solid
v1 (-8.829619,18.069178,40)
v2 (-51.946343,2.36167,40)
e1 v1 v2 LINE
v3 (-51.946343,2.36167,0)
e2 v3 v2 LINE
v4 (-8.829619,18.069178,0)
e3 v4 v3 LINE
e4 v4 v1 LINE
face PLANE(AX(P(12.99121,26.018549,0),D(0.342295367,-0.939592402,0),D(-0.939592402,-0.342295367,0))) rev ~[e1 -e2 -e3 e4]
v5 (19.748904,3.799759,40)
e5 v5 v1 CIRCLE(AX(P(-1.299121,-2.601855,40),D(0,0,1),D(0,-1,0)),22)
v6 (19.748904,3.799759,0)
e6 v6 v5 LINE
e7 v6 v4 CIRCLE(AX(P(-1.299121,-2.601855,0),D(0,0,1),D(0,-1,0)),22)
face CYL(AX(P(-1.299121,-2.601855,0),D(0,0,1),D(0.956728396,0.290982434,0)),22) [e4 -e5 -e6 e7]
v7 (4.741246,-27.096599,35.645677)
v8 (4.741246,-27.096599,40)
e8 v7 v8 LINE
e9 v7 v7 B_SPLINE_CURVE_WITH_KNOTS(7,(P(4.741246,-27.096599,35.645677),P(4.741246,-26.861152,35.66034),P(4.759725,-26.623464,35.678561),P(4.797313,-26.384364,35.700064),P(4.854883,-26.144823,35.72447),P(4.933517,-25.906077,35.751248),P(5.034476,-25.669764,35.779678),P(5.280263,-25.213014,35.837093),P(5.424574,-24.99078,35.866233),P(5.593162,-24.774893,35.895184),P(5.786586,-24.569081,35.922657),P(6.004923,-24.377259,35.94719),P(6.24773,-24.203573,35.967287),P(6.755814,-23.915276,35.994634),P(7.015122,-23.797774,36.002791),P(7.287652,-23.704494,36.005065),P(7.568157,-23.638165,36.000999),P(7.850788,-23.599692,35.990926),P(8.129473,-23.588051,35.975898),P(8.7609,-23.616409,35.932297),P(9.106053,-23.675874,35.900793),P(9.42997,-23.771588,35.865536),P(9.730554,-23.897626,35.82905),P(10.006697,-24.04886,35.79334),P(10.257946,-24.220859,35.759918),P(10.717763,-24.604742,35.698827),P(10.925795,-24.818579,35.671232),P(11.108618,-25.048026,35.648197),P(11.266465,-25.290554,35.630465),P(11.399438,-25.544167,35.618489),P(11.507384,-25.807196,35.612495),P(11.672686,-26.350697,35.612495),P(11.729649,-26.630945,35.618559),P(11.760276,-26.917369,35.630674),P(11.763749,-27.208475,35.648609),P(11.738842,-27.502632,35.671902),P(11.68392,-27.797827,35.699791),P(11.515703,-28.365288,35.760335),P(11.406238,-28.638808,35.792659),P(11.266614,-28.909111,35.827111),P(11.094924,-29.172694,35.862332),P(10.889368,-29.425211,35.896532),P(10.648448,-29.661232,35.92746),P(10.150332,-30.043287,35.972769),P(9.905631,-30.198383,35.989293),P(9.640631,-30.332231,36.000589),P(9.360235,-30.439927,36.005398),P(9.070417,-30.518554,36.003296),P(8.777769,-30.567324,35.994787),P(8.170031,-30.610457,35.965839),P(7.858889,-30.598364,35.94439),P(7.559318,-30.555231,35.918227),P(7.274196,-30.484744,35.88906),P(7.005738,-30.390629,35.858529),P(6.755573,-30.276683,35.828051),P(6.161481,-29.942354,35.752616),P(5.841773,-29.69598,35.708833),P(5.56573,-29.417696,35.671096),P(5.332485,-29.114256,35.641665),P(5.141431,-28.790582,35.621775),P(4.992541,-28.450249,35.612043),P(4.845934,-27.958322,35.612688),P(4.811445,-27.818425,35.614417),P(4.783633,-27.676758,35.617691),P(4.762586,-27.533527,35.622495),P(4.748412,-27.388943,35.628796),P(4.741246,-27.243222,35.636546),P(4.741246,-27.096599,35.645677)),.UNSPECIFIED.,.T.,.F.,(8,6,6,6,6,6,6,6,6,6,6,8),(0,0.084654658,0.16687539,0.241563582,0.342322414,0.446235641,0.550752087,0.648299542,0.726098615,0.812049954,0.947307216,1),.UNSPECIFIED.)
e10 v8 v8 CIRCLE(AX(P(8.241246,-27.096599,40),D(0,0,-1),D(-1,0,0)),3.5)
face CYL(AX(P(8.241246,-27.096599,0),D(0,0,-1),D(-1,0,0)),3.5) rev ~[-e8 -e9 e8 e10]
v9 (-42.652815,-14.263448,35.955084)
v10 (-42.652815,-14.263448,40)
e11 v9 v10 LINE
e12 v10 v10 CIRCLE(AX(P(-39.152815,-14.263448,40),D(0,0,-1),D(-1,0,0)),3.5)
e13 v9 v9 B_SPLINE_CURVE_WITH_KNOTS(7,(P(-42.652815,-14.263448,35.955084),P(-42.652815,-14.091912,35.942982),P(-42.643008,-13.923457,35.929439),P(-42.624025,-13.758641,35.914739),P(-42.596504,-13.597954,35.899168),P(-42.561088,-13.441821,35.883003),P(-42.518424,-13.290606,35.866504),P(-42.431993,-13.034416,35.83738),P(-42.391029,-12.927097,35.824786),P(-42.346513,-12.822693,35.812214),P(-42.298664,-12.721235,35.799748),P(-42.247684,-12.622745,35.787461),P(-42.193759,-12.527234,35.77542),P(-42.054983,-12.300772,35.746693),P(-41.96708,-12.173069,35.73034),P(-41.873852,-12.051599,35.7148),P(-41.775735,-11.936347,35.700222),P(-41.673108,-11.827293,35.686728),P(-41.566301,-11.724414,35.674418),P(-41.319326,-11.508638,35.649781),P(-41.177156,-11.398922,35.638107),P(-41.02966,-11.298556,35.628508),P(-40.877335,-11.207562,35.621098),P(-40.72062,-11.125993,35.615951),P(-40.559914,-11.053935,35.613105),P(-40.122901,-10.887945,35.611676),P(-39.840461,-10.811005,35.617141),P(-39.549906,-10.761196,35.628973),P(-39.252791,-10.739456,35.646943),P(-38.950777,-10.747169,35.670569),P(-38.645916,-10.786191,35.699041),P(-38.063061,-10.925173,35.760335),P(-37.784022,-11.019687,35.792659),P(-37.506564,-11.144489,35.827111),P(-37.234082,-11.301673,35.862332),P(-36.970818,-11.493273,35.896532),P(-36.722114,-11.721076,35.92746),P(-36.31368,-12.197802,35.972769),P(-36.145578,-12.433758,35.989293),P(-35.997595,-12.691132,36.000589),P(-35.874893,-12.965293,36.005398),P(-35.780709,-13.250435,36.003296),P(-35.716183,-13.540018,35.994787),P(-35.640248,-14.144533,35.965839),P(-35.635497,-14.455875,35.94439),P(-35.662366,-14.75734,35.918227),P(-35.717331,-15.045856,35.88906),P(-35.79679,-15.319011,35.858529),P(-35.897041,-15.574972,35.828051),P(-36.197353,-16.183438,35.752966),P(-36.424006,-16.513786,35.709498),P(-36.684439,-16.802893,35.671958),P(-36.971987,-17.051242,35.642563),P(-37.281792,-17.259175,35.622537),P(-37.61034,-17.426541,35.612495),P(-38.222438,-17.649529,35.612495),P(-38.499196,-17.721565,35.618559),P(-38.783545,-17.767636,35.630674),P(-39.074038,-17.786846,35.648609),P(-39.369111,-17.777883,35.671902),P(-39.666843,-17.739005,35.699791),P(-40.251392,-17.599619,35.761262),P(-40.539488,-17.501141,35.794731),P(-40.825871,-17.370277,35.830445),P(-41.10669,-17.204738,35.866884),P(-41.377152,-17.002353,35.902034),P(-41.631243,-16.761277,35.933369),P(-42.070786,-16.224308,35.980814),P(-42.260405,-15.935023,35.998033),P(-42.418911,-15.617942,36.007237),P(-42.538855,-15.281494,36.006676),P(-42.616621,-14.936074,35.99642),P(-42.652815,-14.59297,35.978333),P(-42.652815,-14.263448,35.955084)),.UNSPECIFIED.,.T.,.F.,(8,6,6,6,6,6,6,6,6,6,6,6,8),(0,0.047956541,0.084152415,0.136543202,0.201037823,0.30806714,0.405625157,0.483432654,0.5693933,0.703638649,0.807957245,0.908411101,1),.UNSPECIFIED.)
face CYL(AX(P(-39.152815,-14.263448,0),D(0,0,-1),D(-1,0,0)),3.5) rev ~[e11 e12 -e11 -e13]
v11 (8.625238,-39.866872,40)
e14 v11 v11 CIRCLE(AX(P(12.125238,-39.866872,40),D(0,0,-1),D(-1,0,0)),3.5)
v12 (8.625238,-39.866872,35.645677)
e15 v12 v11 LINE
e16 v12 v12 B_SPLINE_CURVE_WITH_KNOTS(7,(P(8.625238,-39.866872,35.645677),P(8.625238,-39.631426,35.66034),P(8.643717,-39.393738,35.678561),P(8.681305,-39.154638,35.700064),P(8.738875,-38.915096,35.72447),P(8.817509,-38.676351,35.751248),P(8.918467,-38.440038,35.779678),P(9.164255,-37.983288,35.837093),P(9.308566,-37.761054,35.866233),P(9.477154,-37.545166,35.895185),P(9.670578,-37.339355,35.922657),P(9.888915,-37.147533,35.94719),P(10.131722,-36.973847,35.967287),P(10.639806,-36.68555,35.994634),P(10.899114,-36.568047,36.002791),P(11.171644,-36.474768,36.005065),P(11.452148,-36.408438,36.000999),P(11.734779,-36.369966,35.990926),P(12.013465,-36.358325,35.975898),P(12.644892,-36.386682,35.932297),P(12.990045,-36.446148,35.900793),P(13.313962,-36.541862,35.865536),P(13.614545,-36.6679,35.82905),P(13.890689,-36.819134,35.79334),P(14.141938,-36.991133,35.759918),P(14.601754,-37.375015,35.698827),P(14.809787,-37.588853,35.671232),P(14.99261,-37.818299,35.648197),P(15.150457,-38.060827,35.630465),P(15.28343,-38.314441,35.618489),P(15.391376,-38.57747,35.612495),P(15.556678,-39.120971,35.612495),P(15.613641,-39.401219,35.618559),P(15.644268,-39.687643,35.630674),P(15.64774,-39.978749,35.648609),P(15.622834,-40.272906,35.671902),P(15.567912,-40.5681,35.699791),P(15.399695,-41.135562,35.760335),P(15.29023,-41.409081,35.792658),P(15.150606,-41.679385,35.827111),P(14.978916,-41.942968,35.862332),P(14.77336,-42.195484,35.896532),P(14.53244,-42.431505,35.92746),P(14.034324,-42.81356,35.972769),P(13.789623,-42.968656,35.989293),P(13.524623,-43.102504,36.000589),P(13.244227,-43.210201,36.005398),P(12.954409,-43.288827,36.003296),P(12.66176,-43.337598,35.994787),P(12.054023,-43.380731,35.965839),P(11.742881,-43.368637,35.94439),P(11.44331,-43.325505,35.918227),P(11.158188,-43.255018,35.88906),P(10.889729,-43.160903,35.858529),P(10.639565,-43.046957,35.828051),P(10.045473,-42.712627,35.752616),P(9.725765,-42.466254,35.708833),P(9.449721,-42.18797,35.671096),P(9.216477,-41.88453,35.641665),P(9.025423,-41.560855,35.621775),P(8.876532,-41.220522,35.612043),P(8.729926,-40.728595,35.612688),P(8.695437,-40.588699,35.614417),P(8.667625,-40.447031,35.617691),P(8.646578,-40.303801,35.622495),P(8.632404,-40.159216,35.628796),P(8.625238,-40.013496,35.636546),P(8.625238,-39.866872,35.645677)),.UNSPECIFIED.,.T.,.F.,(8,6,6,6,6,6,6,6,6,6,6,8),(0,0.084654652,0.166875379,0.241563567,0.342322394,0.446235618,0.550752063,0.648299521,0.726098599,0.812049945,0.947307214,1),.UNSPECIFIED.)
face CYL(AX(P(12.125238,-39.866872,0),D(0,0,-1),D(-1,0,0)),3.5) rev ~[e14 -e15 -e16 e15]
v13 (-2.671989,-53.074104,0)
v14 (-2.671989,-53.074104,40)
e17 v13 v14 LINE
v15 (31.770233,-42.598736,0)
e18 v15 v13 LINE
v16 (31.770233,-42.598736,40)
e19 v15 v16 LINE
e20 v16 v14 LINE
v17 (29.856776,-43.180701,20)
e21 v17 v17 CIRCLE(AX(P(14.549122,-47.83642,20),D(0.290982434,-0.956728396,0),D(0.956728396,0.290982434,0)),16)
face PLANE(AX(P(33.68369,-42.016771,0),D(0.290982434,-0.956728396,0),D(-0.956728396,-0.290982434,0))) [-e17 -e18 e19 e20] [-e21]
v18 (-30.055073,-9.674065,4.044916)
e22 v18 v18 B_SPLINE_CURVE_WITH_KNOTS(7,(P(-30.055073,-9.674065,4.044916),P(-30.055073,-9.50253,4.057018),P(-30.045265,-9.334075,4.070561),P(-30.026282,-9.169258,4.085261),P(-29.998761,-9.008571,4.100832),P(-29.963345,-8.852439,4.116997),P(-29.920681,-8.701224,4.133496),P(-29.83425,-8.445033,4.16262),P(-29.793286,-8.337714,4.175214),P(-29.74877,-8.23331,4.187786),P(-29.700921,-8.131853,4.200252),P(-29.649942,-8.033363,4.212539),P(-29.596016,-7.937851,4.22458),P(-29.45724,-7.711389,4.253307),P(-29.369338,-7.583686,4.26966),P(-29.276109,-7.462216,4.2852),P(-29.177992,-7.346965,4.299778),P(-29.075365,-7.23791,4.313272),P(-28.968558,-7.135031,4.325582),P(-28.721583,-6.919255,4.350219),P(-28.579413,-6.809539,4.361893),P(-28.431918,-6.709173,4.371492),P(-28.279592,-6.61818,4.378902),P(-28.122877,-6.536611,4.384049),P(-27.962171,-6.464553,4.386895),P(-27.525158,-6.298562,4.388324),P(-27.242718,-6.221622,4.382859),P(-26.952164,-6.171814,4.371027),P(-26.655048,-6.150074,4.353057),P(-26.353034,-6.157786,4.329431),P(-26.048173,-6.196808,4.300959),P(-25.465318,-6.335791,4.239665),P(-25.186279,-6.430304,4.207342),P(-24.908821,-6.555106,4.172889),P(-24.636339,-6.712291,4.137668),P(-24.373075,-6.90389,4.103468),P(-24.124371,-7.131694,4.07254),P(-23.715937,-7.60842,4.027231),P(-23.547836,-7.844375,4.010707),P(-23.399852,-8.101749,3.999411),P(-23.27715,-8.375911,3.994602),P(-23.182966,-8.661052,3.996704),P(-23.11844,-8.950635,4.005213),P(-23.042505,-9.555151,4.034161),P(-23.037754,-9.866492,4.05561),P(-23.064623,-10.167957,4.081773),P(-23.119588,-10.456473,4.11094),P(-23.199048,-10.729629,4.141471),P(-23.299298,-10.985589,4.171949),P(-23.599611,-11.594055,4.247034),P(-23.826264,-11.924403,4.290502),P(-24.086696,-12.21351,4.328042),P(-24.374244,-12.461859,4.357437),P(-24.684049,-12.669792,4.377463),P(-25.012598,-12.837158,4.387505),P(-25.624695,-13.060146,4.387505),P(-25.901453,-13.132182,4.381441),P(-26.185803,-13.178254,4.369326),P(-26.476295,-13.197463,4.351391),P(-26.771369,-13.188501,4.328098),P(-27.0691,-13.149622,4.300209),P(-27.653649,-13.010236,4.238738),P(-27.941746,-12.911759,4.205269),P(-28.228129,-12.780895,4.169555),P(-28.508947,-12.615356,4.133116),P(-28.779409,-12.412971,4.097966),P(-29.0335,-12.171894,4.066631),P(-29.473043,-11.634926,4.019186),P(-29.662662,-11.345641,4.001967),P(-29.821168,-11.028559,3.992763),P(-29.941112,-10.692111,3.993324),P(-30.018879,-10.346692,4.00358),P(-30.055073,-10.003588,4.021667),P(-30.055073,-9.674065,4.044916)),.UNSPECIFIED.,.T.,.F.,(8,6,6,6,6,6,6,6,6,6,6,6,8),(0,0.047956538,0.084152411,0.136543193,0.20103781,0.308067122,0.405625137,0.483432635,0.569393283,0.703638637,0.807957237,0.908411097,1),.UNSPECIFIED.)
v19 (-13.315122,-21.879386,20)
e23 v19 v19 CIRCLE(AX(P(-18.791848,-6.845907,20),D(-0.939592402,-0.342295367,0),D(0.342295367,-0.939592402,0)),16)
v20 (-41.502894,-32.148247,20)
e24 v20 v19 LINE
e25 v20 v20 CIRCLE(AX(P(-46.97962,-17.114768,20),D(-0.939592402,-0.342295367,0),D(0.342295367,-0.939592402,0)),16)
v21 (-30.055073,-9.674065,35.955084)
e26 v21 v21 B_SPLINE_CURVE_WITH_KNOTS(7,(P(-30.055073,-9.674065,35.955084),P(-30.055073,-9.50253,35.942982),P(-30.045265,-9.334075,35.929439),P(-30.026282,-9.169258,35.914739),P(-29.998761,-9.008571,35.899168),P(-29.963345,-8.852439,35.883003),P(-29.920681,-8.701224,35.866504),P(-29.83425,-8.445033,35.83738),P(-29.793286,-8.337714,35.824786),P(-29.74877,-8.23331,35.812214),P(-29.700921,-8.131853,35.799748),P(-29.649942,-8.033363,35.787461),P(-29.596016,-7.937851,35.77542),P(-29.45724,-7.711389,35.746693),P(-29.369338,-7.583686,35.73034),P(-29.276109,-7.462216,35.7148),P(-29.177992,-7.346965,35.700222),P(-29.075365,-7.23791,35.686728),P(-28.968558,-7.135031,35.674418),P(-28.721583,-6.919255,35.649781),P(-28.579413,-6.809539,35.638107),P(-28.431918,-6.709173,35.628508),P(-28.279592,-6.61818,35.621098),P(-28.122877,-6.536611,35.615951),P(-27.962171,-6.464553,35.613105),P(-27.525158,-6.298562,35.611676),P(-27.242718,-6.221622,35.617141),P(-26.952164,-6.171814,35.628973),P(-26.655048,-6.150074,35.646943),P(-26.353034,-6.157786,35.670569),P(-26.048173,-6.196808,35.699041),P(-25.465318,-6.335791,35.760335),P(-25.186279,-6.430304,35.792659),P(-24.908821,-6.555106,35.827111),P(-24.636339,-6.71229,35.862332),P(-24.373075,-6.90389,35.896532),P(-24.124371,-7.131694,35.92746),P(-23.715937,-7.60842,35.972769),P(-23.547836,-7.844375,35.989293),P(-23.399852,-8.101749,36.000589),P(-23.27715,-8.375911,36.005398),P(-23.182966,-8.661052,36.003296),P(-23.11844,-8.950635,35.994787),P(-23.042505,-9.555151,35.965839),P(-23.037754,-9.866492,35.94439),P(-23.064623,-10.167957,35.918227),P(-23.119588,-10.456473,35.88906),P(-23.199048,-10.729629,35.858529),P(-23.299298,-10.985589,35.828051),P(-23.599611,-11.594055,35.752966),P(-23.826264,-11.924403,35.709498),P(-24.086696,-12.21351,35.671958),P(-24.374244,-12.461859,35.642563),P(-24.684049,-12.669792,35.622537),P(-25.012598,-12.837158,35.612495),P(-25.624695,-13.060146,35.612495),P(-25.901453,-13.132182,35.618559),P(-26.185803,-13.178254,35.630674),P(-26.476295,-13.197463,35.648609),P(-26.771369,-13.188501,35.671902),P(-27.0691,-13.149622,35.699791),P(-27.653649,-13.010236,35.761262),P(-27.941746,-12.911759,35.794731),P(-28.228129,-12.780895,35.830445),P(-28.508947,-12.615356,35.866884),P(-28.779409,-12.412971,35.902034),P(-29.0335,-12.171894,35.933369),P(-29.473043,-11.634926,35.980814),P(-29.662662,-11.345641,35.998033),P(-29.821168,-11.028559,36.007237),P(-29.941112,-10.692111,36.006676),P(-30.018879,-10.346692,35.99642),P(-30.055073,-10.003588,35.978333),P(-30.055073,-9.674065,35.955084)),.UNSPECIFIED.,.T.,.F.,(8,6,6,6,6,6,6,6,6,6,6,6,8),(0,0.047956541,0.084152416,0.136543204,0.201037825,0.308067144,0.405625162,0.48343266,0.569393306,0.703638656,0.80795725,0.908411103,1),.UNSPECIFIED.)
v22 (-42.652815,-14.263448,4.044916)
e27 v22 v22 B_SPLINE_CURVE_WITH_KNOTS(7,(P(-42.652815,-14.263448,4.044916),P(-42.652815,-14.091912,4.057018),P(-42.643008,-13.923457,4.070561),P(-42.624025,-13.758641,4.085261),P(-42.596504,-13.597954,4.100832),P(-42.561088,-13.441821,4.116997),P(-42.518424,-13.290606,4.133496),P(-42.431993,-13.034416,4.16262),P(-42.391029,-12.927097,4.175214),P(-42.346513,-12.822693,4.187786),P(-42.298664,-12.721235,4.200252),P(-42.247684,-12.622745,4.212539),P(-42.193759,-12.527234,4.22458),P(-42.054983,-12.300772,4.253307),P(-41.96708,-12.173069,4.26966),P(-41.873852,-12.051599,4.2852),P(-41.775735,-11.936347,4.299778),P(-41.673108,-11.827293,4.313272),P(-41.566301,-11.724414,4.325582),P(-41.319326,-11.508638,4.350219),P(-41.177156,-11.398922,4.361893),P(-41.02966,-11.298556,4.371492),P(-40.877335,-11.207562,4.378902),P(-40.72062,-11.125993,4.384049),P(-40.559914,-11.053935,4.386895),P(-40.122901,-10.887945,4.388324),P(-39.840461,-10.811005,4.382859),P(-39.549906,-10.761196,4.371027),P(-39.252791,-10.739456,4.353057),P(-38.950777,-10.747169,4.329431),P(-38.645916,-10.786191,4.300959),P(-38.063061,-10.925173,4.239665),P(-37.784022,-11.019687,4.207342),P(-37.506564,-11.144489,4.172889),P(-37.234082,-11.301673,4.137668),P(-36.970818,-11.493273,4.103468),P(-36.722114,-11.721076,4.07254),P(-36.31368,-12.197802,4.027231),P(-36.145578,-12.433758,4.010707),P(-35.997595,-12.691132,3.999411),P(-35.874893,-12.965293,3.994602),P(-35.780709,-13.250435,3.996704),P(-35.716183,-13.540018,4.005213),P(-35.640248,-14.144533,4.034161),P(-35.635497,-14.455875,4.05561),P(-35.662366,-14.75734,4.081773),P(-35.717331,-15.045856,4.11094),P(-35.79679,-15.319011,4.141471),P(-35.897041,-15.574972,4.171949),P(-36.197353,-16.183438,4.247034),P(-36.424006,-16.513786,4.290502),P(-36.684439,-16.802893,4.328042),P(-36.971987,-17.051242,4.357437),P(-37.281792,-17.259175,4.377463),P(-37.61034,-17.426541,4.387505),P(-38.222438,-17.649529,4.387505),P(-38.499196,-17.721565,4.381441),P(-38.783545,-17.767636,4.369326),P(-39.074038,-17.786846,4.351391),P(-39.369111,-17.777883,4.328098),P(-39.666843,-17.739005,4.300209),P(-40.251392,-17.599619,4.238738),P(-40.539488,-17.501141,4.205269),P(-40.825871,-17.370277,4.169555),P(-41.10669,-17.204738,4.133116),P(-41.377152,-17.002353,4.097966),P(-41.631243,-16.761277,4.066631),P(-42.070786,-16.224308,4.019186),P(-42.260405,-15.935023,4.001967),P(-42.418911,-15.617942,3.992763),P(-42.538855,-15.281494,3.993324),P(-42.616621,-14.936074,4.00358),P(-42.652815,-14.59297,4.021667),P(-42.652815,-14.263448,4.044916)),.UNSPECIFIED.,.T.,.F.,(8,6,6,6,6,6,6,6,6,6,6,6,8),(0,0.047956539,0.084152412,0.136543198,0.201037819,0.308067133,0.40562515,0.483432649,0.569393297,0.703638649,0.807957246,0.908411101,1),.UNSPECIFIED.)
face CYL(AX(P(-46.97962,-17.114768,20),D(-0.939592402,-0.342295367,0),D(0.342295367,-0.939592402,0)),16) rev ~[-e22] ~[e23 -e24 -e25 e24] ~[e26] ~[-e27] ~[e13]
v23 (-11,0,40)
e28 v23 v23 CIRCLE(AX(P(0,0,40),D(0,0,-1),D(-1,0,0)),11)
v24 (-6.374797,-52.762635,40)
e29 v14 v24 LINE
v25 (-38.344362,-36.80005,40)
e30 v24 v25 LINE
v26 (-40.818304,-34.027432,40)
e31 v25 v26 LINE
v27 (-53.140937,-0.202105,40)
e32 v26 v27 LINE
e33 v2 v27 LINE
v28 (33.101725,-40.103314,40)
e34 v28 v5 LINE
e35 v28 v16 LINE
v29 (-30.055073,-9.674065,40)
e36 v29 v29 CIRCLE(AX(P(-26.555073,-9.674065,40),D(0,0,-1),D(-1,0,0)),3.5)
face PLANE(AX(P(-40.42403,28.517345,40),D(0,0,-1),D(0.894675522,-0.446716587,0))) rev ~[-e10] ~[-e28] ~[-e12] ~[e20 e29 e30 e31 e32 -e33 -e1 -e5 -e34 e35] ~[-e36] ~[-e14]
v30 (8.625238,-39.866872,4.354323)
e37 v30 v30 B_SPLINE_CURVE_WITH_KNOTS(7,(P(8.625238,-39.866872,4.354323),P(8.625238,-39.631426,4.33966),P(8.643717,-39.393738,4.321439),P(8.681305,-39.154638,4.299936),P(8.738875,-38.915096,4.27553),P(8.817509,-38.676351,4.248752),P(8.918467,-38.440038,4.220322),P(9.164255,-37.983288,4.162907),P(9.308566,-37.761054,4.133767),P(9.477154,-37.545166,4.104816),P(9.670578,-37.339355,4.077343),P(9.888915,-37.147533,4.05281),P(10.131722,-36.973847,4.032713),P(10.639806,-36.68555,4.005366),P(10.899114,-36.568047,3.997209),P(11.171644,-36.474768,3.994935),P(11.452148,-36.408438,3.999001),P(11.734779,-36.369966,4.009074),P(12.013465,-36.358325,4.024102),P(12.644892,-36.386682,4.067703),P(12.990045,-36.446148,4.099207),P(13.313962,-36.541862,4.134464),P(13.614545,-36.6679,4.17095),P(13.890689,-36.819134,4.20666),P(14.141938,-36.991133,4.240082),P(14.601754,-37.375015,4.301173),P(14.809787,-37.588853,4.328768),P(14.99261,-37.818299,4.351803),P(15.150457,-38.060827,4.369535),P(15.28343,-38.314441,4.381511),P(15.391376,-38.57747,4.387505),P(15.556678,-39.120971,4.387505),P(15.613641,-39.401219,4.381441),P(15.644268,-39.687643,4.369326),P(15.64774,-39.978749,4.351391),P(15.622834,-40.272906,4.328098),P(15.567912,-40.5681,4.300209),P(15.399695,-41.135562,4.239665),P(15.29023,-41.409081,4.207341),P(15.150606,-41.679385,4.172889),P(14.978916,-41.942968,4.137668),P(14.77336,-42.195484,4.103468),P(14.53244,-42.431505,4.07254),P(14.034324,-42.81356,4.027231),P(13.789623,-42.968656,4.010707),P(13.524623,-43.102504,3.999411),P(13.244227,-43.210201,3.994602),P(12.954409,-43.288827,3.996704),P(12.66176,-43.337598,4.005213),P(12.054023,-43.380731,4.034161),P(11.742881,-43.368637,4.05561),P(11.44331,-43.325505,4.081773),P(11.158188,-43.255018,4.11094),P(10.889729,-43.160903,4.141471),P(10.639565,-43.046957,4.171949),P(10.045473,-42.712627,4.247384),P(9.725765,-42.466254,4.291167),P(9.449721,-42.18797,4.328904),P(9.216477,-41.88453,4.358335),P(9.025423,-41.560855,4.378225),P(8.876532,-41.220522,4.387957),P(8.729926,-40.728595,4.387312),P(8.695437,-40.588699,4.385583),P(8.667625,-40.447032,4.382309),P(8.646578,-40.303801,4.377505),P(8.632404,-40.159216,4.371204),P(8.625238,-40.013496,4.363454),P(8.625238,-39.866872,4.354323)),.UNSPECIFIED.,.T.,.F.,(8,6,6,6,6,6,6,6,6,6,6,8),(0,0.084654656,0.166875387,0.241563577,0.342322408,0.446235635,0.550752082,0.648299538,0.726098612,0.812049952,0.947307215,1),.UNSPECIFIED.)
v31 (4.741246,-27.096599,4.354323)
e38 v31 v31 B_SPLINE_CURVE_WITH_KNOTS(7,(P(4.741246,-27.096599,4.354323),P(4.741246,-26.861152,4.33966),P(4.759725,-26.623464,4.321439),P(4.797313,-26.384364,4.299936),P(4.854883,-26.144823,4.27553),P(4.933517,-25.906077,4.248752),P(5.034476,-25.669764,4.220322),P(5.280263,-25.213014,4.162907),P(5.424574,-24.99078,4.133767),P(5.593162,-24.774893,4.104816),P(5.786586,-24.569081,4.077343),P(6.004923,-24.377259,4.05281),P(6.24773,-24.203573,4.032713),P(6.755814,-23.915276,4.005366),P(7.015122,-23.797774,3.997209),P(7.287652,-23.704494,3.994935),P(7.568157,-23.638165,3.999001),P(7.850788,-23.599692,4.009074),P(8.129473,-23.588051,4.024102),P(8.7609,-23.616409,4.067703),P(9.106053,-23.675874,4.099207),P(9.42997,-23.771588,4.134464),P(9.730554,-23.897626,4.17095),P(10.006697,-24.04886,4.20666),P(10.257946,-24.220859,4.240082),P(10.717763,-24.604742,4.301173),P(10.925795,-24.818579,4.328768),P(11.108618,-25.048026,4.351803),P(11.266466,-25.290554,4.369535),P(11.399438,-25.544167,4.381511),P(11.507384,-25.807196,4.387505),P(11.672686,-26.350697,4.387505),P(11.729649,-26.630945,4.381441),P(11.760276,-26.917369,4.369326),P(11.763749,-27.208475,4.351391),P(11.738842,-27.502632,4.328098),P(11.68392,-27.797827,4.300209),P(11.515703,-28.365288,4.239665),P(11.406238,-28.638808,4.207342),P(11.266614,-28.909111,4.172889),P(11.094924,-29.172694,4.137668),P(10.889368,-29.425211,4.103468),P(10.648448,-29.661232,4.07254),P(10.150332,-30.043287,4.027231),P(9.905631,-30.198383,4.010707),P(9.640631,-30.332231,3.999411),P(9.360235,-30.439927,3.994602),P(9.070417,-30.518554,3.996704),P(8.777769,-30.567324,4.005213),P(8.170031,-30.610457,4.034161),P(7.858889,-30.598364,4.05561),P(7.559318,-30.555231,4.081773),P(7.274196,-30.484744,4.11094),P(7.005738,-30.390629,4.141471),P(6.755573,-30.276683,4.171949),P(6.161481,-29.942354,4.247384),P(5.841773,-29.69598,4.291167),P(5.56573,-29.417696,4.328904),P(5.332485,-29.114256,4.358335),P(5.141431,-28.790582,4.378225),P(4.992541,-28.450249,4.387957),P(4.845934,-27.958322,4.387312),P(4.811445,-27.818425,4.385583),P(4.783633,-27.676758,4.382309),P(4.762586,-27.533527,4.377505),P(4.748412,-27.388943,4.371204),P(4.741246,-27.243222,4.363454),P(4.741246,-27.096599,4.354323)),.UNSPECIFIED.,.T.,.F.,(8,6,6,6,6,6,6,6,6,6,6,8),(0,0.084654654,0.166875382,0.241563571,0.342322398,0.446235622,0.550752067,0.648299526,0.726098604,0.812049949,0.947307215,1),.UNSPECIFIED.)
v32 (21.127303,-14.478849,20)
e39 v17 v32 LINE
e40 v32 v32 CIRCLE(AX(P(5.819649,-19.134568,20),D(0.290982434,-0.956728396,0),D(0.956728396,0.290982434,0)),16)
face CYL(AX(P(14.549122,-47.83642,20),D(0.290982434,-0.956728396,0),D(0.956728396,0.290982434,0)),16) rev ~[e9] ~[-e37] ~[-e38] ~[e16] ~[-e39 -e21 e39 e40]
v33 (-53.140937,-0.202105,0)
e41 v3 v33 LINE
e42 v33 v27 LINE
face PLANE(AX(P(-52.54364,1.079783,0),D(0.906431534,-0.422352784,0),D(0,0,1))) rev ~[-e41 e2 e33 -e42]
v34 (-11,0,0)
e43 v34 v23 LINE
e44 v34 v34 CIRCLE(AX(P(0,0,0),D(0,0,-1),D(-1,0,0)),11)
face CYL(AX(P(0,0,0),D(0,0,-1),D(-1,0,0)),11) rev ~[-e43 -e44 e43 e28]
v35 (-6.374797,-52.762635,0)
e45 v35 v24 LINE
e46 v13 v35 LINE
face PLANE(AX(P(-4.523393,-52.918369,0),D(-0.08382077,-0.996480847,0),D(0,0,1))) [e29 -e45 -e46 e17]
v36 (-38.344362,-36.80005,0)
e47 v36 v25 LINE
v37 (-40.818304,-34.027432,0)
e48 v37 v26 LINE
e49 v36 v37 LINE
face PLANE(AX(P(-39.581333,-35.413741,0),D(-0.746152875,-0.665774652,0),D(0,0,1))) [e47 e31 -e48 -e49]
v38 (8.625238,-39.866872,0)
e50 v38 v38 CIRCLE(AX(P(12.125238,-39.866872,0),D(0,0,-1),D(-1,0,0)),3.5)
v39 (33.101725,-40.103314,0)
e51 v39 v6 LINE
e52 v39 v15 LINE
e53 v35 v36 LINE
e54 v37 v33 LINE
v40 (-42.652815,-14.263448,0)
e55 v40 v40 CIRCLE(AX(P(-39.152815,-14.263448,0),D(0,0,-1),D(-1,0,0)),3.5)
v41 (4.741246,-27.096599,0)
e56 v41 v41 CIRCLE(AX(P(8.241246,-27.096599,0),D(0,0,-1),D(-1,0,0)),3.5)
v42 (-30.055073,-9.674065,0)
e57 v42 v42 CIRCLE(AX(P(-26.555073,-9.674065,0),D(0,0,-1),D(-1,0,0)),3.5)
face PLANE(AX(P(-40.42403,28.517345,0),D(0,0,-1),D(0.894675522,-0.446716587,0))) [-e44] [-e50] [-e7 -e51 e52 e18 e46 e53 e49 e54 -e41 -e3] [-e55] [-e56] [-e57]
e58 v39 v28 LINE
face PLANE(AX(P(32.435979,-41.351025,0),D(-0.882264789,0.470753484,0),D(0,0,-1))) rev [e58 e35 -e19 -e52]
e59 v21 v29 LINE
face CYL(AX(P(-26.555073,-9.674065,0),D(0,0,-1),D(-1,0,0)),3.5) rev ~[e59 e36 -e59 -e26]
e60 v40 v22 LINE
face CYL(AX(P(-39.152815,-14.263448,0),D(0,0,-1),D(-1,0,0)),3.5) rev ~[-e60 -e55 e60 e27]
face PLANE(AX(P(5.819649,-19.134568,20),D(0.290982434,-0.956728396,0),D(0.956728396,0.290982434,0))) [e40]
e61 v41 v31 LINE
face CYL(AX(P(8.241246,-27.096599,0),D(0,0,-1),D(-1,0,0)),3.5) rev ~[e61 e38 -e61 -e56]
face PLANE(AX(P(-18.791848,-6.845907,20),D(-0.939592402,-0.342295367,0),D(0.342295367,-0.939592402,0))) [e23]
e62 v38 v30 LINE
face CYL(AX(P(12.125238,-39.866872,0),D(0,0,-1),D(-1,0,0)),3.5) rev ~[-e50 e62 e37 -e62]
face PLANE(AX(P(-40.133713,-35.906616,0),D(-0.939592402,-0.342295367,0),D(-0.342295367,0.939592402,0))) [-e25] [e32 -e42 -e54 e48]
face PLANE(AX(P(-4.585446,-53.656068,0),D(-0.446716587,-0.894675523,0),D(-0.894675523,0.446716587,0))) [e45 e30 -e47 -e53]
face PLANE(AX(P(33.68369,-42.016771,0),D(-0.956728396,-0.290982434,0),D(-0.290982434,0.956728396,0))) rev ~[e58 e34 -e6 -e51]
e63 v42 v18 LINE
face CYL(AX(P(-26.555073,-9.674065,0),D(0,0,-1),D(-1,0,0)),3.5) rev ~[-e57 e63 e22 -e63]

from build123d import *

# Parameters (mm, degrees)
BOSS_EXTRUDE1_DEPTH = 40
SKETCH2_R           = 16
CUT_EXTRUDE1_DEPTH  = 30
SKETCH3_R           = 16
CUT_EXTRUDE2_DEPTH  = 30
CUT_EXTRUDE3_REACH  = 87.885
SKETCH4_R           = 3.5
SKETCH6_W           = 97.811122408
SKETCH6_H           = 40
BOSS_EXTRUDE2_DEPTH = 30
SKETCH5_R           = 11
CUT_EXTRUDE4_DEPTH  = 40
CUT_EXTRUDE7_DEPTH  = 40
FILLET1_R           = 22
CHAMFER1_SIZE       = 2
CHAMFER2_SIZE       = 2


with BuildPart() as part:
    # Sketch1 → Boss-Extrude1 (new body)
    with BuildSketch(Plane.XY):
        Polygon((-40.424029814, 28.51734538), (47.085187233, -15.176505431), (33.683689612, -42.016771106), (-53.825527435, 1.677079705), align=None)
        Polygon((-53.825527435, 1.677079705), (33.683689612, -42.016771106), (-4.585446216, -53.656068464), (-40.133712767, -35.906616376), align=None)
    extrude(amount=BOSS_EXTRUDE1_DEPTH)

    # Sketch2 → Cut-Extrude1 (cut)
    with BuildSketch(Plane(origin=(14.549121698, -47.836419785, 0), x_dir=(-0.9567283956954932, -0.29098243395423, 0), z_dir=(0.29098243395423, -0.9567283956954933, 0))):
        with Locations(Location((0, -20, 0), (0, 0, 180))):
            Circle(SKETCH2_R)
    extrude(amount=-CUT_EXTRUDE1_DEPTH, mode=Mode.SUBTRACT)

    # Sketch3 → Cut-Extrude2 (cut)
    with BuildSketch(Plane(origin=(-46.979620101, -17.114768336, 0), x_dir=(0, 0, 1), z_dir=(-0.939592402016652, -0.342295366712111, 0))):
        with Locations(Location((20, 0, 0), (0, 0, 270))):
            Circle(SKETCH3_R)
    extrude(amount=-CUT_EXTRUDE2_DEPTH, mode=Mode.SUBTRACT)

    # Cut-Extrude3: up to this face of the body (flat: up to its plane)
    cut_extrude3_end = Plane(part.part.faces().sort_by_distance((-8.066388037, -16.155209221, 40))[0])
    # Sketch4 → Cut-Extrude3 (cut, up to the picked face)
    with BuildSketch(Plane(origin=(0, 0, 0), x_dir=(-1, 0, 0), z_dir=(0, 0, -1)), mode=Mode.PRIVATE) as cut_extrude3_sk1:
        with Locations((-8.241246184, -27.096598695)):
            Circle(SKETCH4_R)
    cut_extrude3_tool1 = split(extrude(cut_extrude3_sk1.sketch, amount=-CUT_EXTRUDE3_REACH, mode=Mode.PRIVATE), bisect_by=cut_extrude3_end, keep=Keep.BOTH, mode=Mode.PRIVATE)
    # Sketch4 → Cut-Extrude3 (cut, up to the picked face)
    with BuildSketch(Plane(origin=(0, 0, 0), x_dir=(-1, 0, 0), z_dir=(0, 0, -1)), mode=Mode.PRIVATE) as cut_extrude3_sk2:
        with Locations((-12.125238023, -39.866872249)):
            Circle(SKETCH4_R)
    cut_extrude3_tool2 = split(extrude(cut_extrude3_sk2.sketch, amount=-CUT_EXTRUDE3_REACH, mode=Mode.PRIVATE), bisect_by=cut_extrude3_end, keep=Keep.BOTH, mode=Mode.PRIVATE)
    # Sketch4 → Cut-Extrude3 (cut, up to the picked face)
    with BuildSketch(Plane(origin=(0, 0, 0), x_dir=(-1, 0, 0), z_dir=(0, 0, -1)), mode=Mode.PRIVATE) as cut_extrude3_sk3:
        with Locations((26.555072549, -9.674065347)):
            Circle(SKETCH4_R)
    cut_extrude3_tool3 = split(extrude(cut_extrude3_sk3.sketch, amount=-CUT_EXTRUDE3_REACH, mode=Mode.PRIVATE), bisect_by=cut_extrude3_end, keep=Keep.BOTH, mode=Mode.PRIVATE)
    # Sketch4 → Cut-Extrude3 (cut, up to the picked face)
    with BuildSketch(Plane(origin=(0, 0, 0), x_dir=(-1, 0, 0), z_dir=(0, 0, -1)), mode=Mode.PRIVATE) as cut_extrude3_sk4:
        with Locations((39.152815392, -14.263447931)):
            Circle(SKETCH4_R)
    cut_extrude3_tool4 = split(extrude(cut_extrude3_sk4.sketch, amount=-CUT_EXTRUDE3_REACH, mode=Mode.PRIVATE), bisect_by=cut_extrude3_end, keep=Keep.BOTH, mode=Mode.PRIVATE)
    add(cut_extrude3_tool1.solids().sort_by(Axis((8.241246, -27.096599, 0), (0, 0, 1)))[0], mode=Mode.SUBTRACT)
    add(cut_extrude3_tool2.solids().sort_by(Axis((12.125238, -39.866872, 0), (0, 0, 1)))[0], mode=Mode.SUBTRACT)
    add(cut_extrude3_tool3.solids().sort_by(Axis((-26.555073, -9.674065, 0), (0, 0, 1)))[0], mode=Mode.SUBTRACT)
    add(cut_extrude3_tool4.solids().sort_by(Axis((-39.152815, -14.263448, 0), (0, 0, 1)))[0], mode=Mode.SUBTRACT)

    # Sketch6 → Boss-Extrude2 (add)
    with BuildSketch(Plane(origin=(3.33057871, 6.670419974, 0), x_dir=(0.8946755224974542, -0.4467165873838887, 0), z_dir=(0.4467165873838887, 0.8946755224974542, 0))):
        with Locations((0, -20)):
            Rectangle(SKETCH6_W, SKETCH6_H)
    extrude(amount=BOSS_EXTRUDE2_DEPTH)

    # Sketch5 → Cut-Extrude4 (cut)
    with BuildSketch(Plane(origin=(0, 0, 0), x_dir=(-1, 0, 0), z_dir=(0, 0, -1))):
        Circle(SKETCH5_R)
    extrude(amount=-CUT_EXTRUDE4_DEPTH, mode=Mode.SUBTRACT)

    # Sketch7 → Cut-Extrude7 (cut)
    with BuildSketch(Plane(origin=(0, 0, 0), x_dir=(-1, 0, 0), z_dir=(0, 0, -1))):
        Polygon((-60.486684855, 11.663760244), (-33.683689612, -42.016771106), (-12.991209784, 26.018548963), (-23.829432932, 29.966935049), align=None)
        Polygon((-23.829432932, 29.966935049), (-12.991209784, 26.018548963), (-9.634719731, 37.05443625), align=None)
        Polygon((-9.634719731, 37.05443625), (-12.991209784, 26.018548963), (53.825527435, 1.677079705), (27.022532192, 55.357611055), align=None)
    extrude(amount=-CUT_EXTRUDE7_DEPTH, mode=Mode.SUBTRACT)

    # Fillet1
    fillet1_edges = [part.edges().sort_by_distance(p)[0] for p in [
        (12.991209784, 26.018548963, 20),
    ]]
    fillet(fillet1_edges, radius=FILLET1_R)

    # Chamfer1
    chamfer1_edges = [part.edges().sort_by_distance(p)[0] for p in [
        (33.683689612, -42.016771106, 20),
        (-53.825527435, 1.677079705, 20),
    ]]
    chamfer(chamfer1_edges, length=CHAMFER1_SIZE)

    # Chamfer2
    chamfer2_edges = [part.edges().sort_by_distance(p)[0] for p in [
        (-4.585446216, -53.656068464, 20),
        (-40.133712767, -35.906616376, 20),
    ]]
    chamfer(chamfer2_edges, length=CHAMFER2_SIZE)


solid = part.part
